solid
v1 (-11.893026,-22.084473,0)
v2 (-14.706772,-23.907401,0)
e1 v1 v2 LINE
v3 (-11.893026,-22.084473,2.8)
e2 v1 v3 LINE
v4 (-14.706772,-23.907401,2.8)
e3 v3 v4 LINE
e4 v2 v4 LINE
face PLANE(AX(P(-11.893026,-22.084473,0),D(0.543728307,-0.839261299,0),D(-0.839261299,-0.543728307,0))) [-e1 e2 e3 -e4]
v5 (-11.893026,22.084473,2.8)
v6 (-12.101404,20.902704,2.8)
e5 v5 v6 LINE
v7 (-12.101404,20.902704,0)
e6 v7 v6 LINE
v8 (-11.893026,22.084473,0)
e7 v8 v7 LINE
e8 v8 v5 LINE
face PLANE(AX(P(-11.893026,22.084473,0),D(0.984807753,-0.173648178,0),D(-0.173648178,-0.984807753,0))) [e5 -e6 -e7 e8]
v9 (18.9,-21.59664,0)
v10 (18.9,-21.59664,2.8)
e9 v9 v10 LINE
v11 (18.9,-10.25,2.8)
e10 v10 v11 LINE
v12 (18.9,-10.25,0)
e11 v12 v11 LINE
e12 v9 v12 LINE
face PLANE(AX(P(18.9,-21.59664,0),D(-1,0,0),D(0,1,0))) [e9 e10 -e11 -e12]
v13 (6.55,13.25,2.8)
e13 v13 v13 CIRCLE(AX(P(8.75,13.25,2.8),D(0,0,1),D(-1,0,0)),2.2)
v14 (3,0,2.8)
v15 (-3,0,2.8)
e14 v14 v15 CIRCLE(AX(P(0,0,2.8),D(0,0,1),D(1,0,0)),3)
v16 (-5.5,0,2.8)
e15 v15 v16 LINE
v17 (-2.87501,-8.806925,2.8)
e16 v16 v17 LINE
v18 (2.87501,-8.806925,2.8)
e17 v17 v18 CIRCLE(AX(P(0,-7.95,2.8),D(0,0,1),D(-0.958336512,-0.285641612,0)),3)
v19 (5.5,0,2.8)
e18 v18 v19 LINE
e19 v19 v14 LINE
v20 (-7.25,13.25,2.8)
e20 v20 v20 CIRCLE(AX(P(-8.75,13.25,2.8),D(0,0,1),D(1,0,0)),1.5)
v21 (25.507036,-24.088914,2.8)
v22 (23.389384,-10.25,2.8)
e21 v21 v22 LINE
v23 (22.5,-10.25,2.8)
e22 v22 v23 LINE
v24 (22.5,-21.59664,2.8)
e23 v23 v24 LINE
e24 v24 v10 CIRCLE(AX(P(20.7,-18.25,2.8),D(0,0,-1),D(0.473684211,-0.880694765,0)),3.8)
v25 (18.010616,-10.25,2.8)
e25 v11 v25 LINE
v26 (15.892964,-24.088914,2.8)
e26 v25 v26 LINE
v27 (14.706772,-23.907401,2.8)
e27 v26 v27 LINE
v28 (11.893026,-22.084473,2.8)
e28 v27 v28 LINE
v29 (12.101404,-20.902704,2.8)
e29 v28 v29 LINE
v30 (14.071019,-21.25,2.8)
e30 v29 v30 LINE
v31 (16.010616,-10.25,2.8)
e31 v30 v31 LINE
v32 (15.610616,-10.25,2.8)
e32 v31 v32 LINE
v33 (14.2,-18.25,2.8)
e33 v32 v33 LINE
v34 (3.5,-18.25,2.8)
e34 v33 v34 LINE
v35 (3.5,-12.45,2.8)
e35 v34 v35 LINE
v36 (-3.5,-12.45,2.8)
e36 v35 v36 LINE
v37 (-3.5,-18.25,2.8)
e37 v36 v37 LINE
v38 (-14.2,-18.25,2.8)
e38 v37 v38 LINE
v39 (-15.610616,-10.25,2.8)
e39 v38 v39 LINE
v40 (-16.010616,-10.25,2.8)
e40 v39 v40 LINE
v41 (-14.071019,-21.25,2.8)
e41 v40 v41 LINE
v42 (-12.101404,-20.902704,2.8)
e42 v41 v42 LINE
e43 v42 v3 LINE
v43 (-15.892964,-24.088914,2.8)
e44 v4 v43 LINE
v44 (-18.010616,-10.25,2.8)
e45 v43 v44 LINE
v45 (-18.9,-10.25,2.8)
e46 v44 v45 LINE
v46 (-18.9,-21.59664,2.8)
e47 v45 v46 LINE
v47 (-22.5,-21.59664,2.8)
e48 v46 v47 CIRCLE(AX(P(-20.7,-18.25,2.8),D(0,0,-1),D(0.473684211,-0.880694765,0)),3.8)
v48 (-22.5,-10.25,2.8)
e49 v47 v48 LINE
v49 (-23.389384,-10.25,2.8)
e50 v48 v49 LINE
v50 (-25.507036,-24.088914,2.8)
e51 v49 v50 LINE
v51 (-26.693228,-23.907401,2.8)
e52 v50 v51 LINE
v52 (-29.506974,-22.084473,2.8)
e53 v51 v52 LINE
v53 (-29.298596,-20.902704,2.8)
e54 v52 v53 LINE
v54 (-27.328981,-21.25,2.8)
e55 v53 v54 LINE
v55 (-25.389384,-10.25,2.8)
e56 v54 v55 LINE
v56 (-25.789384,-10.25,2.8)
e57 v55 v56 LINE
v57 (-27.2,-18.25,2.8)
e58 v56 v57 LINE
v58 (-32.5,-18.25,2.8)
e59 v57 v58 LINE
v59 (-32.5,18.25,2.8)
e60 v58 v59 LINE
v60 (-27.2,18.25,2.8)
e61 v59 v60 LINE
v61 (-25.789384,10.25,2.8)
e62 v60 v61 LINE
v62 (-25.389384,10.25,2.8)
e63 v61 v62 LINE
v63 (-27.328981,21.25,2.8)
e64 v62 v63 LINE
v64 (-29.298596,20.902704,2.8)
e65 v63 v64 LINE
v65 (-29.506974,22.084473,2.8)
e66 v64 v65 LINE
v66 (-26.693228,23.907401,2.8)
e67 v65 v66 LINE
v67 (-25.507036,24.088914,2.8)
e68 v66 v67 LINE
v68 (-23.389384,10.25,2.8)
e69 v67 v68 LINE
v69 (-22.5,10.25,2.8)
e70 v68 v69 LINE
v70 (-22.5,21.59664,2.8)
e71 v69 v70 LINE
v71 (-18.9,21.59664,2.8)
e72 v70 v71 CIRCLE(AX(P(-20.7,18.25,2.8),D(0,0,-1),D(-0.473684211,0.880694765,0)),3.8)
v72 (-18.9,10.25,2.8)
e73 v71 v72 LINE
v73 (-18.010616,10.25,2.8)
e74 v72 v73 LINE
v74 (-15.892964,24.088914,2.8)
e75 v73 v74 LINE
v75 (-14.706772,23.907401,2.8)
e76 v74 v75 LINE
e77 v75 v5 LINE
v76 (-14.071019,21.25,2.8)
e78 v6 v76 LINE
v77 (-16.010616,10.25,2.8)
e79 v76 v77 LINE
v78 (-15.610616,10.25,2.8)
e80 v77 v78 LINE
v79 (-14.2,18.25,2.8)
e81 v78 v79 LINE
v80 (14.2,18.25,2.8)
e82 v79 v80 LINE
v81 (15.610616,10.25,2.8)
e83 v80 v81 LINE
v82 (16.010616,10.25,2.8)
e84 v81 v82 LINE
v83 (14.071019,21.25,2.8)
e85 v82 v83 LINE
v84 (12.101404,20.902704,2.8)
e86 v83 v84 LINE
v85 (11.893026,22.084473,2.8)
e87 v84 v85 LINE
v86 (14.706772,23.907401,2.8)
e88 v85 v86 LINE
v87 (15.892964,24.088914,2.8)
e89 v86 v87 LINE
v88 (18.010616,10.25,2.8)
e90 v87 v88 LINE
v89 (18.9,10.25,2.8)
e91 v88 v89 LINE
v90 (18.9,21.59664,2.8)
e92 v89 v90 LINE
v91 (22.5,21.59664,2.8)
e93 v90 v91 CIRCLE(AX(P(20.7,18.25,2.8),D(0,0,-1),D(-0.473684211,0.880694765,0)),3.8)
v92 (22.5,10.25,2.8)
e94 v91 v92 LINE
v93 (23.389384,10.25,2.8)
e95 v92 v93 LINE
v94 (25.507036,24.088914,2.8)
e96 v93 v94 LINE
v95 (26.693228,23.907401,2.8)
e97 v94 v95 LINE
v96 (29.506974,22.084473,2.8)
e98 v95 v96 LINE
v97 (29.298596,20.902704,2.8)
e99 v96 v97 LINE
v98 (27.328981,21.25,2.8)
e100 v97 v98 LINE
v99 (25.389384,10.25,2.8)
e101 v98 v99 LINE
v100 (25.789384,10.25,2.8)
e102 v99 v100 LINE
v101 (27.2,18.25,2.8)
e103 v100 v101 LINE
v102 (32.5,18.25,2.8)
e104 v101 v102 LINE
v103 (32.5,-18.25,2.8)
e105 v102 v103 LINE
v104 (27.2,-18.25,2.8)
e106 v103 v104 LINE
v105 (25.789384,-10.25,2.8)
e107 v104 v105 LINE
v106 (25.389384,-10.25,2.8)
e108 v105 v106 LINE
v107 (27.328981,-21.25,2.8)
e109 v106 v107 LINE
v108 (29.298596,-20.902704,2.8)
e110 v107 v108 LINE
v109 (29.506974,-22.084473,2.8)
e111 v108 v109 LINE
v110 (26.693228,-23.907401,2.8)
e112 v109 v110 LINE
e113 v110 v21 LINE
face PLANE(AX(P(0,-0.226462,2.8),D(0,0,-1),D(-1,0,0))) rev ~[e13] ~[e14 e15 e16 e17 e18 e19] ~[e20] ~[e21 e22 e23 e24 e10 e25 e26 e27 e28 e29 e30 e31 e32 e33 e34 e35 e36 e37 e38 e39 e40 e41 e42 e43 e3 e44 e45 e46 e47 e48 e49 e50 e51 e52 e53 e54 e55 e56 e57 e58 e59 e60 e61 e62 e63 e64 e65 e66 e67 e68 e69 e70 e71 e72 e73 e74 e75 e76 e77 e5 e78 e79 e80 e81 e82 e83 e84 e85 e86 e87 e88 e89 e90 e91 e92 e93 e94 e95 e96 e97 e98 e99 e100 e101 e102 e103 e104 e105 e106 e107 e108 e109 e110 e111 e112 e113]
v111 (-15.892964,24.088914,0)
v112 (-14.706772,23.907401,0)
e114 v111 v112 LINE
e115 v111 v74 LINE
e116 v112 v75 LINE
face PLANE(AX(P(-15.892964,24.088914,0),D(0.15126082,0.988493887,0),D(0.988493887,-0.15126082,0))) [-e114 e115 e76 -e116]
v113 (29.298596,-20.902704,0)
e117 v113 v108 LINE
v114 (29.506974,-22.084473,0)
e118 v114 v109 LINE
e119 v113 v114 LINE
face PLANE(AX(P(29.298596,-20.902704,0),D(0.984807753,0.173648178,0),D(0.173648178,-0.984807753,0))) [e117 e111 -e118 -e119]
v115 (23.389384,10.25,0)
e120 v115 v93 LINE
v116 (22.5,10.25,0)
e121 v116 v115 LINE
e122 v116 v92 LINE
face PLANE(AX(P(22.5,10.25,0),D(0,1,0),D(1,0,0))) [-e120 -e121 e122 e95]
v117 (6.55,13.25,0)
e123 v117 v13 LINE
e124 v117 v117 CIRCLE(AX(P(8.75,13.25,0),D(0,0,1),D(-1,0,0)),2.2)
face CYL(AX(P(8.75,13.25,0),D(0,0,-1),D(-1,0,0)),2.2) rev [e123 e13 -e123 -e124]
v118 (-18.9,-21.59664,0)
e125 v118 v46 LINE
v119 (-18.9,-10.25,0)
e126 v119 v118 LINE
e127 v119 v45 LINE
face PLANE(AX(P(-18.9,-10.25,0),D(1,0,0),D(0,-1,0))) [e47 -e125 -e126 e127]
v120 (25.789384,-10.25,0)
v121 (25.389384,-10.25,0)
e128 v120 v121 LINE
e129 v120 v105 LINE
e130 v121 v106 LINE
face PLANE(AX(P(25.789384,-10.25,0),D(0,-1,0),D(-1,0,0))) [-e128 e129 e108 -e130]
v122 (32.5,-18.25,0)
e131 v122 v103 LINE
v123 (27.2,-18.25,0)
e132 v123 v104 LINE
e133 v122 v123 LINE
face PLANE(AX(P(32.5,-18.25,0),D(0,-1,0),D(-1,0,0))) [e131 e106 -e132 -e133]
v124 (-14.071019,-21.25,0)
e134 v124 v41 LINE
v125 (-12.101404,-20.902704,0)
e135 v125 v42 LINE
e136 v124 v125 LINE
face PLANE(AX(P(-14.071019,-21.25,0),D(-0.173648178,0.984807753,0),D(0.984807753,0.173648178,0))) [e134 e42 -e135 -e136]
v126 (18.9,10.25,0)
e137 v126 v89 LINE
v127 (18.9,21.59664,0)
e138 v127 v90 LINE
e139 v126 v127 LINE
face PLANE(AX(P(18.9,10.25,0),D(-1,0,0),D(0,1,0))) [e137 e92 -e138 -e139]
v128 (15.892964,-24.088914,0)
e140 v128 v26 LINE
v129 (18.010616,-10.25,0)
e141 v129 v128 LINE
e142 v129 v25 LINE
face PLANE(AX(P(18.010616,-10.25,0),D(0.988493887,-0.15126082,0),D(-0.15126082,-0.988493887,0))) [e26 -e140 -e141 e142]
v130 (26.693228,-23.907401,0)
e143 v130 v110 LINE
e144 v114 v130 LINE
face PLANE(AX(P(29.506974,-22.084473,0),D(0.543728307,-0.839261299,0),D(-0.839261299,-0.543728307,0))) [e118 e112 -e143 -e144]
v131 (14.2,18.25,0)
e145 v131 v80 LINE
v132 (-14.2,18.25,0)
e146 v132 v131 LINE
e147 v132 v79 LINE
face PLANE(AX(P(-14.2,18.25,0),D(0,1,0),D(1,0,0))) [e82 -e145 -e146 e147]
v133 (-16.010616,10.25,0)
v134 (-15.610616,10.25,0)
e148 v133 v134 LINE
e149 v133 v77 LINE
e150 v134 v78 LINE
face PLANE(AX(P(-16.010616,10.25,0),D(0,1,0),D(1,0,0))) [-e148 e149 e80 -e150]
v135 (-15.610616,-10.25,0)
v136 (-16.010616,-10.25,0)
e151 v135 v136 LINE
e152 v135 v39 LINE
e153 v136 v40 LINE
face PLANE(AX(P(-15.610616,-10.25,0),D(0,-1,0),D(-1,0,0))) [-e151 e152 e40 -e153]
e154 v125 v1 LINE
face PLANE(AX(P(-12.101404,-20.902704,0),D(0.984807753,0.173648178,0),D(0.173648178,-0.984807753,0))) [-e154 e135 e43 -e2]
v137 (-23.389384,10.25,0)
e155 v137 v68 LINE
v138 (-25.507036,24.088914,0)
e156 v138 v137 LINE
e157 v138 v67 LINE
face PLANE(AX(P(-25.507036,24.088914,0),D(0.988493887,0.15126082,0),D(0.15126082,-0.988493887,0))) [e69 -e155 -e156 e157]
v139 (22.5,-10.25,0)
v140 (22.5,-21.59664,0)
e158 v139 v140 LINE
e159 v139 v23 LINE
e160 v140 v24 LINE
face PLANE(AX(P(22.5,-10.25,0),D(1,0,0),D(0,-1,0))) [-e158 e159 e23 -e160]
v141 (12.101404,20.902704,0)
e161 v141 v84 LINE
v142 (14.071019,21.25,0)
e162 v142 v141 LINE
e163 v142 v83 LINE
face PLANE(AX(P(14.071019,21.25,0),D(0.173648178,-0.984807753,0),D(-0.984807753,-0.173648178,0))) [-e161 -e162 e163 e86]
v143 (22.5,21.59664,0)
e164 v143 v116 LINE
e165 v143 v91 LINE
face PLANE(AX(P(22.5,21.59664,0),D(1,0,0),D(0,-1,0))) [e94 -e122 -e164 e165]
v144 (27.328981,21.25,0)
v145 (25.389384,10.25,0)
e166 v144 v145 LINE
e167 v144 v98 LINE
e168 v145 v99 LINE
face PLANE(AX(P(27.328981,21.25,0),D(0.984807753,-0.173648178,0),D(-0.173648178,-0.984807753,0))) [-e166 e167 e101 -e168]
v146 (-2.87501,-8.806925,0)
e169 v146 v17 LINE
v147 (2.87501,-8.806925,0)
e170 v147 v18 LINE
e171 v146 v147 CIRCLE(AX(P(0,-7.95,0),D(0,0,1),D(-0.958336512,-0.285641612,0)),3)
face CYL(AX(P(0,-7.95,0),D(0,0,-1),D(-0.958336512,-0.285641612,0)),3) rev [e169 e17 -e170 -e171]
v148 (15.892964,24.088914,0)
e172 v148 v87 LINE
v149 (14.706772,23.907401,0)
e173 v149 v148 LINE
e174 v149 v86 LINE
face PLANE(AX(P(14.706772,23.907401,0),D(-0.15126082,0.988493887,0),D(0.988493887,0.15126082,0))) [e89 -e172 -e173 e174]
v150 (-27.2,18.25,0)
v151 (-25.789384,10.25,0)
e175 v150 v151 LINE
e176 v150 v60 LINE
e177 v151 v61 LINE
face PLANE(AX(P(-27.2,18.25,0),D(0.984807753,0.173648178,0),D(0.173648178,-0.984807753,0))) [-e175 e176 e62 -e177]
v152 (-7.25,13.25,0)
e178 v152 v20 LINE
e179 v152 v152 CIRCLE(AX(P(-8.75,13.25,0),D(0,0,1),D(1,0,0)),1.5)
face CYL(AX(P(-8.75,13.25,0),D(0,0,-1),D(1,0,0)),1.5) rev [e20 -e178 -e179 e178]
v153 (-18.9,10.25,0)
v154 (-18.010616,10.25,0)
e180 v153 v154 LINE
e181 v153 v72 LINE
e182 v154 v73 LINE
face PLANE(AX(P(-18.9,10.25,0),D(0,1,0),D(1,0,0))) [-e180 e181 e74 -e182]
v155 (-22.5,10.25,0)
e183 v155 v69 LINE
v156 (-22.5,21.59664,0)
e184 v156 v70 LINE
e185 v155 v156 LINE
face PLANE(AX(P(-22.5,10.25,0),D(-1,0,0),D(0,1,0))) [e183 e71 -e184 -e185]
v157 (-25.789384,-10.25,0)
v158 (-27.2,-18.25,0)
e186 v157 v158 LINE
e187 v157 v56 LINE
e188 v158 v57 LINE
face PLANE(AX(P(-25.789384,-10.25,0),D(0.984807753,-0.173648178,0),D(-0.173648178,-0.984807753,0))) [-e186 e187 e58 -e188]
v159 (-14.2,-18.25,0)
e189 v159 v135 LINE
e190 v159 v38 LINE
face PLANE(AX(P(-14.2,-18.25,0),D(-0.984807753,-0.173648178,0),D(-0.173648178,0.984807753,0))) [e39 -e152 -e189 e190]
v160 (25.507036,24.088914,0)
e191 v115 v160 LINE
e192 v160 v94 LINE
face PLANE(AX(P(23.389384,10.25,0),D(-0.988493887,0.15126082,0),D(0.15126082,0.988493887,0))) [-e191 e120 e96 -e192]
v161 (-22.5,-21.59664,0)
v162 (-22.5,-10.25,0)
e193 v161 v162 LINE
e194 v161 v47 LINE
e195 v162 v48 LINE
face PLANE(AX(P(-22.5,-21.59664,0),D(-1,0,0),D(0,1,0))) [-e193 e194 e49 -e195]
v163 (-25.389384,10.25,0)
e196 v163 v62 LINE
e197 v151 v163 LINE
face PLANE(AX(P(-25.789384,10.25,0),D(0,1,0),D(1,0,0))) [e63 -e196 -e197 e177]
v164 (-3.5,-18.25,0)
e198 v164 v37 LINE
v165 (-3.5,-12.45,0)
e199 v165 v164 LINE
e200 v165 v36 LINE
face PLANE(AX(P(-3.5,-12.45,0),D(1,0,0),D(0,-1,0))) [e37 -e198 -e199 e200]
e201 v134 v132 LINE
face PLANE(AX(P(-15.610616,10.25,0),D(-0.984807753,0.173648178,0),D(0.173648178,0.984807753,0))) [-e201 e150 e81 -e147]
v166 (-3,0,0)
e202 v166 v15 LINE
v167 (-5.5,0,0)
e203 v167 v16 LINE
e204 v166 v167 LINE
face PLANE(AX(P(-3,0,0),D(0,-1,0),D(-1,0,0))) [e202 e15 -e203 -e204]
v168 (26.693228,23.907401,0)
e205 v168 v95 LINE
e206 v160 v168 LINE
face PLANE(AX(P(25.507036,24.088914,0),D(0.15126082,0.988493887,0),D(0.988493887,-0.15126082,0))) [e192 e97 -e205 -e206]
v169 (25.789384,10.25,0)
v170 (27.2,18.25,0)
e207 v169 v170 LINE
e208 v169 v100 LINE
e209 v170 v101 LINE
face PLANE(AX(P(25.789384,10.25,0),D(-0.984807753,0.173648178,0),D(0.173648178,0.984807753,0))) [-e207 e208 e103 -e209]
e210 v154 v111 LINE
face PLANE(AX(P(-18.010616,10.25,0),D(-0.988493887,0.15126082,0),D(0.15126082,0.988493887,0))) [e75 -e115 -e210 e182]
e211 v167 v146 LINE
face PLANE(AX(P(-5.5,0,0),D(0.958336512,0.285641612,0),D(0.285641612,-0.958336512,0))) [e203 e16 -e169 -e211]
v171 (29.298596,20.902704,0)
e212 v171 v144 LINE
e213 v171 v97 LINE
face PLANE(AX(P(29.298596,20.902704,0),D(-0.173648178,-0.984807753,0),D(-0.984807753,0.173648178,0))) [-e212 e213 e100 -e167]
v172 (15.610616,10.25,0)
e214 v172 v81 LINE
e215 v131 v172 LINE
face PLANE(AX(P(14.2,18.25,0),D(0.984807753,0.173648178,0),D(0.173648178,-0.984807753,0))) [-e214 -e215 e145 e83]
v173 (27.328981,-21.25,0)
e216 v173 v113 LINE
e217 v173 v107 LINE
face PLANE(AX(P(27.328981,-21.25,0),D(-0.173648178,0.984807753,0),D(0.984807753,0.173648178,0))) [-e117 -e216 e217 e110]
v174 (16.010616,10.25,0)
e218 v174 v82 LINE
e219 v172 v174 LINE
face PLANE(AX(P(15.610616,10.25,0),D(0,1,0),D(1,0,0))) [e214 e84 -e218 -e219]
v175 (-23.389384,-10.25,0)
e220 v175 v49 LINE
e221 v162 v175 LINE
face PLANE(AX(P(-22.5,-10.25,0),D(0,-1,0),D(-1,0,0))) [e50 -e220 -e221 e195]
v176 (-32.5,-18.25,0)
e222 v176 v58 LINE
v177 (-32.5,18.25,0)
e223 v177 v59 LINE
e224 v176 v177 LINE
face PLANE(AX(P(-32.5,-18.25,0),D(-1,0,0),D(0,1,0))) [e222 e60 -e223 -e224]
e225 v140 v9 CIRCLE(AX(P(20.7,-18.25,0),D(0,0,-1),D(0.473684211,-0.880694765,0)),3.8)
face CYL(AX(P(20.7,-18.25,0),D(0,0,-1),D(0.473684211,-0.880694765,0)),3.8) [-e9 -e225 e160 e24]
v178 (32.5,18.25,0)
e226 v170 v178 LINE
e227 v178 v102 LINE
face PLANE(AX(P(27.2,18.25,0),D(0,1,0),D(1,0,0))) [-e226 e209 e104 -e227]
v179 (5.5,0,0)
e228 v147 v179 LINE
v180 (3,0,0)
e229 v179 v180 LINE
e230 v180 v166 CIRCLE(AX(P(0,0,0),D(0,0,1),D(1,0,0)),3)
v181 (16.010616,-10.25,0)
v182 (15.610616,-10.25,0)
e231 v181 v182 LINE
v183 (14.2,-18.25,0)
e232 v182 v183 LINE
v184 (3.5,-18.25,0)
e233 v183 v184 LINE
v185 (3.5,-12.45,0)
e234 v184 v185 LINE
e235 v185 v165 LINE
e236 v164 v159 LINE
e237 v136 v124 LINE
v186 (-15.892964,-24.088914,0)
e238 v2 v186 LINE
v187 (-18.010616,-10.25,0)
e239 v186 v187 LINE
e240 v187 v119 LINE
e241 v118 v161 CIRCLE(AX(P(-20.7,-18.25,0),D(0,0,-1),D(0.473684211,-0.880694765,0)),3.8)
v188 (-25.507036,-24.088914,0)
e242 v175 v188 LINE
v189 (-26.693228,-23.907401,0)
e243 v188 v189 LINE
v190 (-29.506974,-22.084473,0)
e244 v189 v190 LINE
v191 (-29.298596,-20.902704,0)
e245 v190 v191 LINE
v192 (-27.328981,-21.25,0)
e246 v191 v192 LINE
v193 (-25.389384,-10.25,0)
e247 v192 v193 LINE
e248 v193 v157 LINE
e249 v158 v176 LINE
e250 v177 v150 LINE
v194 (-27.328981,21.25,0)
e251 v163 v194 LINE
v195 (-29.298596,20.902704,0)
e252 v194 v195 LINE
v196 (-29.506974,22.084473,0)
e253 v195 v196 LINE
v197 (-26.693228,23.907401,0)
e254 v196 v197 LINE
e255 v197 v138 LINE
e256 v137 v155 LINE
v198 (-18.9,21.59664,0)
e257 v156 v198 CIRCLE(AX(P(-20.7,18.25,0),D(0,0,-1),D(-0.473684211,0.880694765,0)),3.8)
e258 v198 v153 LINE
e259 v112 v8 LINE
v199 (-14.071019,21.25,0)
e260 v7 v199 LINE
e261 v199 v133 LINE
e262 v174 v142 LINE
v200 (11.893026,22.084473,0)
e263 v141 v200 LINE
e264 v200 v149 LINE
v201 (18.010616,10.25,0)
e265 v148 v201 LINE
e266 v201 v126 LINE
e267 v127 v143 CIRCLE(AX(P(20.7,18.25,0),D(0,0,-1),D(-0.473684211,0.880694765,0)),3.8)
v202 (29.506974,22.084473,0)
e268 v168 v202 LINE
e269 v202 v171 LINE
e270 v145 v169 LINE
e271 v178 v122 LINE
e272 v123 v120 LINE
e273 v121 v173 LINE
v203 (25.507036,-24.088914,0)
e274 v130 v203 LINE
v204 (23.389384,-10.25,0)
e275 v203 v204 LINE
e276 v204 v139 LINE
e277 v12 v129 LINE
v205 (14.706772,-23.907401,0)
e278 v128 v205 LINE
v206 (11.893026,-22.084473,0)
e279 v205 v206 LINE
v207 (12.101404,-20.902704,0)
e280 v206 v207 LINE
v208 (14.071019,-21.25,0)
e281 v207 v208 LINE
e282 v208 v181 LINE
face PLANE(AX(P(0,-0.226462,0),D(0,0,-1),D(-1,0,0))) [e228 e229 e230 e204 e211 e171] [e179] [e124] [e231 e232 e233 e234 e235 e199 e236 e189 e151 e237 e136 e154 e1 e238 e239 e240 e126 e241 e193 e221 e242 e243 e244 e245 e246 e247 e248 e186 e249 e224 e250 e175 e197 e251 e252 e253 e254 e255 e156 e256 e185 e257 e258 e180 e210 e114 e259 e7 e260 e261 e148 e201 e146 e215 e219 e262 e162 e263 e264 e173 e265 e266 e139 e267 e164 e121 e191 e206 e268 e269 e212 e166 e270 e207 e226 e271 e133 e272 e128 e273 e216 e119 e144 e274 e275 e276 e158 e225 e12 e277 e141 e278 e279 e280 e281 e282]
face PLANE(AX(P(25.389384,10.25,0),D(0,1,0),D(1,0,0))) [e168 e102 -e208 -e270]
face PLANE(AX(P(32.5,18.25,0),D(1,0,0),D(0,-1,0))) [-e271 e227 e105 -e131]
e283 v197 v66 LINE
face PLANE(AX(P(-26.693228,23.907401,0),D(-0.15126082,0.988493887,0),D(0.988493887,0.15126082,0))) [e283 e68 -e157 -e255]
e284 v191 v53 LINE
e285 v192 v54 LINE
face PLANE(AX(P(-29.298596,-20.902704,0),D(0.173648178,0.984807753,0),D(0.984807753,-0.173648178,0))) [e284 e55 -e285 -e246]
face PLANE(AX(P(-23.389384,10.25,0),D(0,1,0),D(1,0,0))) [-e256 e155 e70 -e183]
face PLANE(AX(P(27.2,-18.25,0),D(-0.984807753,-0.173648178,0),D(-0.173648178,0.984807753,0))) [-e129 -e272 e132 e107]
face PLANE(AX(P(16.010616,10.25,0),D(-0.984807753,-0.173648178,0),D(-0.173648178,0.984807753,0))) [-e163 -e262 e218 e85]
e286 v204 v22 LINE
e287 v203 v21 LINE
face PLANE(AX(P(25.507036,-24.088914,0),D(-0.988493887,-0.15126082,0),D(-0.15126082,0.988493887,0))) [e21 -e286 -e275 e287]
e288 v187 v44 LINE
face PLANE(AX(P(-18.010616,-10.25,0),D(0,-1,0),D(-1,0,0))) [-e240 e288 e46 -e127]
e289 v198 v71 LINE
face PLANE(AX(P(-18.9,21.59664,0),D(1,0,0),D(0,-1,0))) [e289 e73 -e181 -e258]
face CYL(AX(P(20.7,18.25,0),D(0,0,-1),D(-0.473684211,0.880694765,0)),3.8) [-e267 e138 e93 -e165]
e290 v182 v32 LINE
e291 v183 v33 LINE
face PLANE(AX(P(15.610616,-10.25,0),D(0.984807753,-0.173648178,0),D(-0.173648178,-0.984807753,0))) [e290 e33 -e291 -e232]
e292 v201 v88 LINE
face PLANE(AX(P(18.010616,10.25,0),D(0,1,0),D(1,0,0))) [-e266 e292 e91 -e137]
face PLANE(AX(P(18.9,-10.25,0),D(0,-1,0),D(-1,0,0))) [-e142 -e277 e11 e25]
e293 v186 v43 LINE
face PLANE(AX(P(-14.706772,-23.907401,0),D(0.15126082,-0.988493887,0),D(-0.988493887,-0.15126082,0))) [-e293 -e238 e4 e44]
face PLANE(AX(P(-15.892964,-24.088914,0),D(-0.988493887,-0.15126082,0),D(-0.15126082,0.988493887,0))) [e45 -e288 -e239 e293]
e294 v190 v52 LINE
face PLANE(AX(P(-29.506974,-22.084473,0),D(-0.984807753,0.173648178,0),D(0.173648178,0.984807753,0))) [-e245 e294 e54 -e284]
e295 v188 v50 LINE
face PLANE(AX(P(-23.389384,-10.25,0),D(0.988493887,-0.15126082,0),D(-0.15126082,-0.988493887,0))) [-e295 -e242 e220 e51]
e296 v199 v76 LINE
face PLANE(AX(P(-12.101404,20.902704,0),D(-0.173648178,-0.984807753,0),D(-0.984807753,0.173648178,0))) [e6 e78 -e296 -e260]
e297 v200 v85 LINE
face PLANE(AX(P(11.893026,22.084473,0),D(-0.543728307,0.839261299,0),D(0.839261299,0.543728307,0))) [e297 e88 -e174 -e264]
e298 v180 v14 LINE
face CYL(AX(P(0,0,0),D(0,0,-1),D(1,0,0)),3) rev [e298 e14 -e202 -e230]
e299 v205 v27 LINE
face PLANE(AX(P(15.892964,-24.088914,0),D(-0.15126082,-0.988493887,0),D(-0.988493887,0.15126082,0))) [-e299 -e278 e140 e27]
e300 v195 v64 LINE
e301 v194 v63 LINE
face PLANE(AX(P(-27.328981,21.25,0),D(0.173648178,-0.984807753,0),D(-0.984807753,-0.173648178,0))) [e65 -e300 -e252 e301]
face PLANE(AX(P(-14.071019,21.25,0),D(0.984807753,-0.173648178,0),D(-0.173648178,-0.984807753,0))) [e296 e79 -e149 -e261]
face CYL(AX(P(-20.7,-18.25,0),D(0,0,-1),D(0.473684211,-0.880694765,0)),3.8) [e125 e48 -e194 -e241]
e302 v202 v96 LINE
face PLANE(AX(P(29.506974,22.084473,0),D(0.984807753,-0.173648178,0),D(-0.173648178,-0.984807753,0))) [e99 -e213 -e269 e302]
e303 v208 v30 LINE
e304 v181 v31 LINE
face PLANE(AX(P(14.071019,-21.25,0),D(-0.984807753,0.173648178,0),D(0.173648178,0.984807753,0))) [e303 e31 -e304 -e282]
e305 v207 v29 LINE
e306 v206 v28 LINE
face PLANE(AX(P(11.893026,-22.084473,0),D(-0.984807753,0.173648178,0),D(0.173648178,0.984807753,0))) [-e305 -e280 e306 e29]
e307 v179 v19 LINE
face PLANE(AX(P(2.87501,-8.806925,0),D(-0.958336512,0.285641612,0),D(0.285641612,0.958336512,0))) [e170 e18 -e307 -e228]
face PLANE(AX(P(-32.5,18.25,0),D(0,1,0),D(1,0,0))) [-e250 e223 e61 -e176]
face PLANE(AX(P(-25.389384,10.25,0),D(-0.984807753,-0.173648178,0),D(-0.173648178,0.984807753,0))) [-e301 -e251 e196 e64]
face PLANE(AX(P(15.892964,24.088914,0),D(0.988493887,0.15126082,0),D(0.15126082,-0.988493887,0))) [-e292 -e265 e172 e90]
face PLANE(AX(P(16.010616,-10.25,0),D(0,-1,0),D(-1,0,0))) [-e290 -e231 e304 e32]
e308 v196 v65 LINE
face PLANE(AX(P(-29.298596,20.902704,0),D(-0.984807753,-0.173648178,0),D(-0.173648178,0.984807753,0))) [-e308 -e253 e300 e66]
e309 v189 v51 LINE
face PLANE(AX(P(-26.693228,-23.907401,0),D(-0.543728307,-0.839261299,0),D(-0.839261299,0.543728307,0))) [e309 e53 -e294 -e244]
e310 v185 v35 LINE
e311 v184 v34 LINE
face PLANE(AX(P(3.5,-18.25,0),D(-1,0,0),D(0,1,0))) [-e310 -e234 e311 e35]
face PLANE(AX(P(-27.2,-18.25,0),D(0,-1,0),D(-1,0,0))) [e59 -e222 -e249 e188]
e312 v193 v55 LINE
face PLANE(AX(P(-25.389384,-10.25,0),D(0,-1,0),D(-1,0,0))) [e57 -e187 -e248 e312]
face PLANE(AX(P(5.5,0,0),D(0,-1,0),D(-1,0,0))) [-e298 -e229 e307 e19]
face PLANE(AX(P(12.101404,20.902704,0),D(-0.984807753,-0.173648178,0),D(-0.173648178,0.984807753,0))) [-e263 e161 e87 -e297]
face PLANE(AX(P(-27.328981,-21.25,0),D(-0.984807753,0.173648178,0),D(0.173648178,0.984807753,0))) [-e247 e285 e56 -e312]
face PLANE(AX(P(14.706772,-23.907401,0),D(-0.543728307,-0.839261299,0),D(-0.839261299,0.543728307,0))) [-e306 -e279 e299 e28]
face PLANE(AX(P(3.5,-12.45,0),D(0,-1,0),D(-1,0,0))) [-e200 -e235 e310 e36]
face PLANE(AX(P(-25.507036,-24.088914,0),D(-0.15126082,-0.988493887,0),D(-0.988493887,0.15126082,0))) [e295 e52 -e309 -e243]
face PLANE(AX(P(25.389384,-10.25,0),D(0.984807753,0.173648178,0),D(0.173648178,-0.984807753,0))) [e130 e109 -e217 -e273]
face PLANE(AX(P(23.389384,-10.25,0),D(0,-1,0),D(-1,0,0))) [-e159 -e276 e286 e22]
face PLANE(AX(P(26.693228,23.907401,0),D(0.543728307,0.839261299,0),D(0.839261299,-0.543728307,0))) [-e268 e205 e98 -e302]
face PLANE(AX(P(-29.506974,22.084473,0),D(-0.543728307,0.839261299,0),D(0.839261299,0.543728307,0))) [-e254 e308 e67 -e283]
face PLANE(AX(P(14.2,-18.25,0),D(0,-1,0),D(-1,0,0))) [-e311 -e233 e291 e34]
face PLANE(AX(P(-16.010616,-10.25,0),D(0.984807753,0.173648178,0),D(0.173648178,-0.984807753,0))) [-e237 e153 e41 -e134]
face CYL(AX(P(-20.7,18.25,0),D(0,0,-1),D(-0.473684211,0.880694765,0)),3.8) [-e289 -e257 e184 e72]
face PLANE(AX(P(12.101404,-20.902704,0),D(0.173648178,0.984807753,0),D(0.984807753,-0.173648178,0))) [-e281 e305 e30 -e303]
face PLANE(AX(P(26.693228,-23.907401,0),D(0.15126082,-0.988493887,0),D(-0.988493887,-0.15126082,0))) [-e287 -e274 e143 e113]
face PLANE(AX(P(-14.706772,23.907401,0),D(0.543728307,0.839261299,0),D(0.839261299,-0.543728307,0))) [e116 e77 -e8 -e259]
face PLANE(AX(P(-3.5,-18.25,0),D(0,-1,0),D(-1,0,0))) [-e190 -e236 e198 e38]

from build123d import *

# Parameters (mm, degrees)
MODEL_R                 = 1.5
MODEL_R_2               = 2.2
P_IDAT_VYSUNUT_M1_DEPTH = 2.8


with BuildPart() as part:
    # Model → Přidat vysunutím1 (new body)
    with BuildSketch(Plane.XY):
        with BuildLine():
            Line((-14.2, 18.25), (14.2, 18.25))
            Line((14.2, 18.25), (15.610615846, 10.25))
            Line((15.610615846, 10.25), (16.010615846, 10.25))
            Line((16.010615846, 10.25), (14.071019058, 21.25))
            Line((14.071019058, 21.25), (12.101403552, 20.902703645))
            Line((12.101403552, 20.902703645), (11.893025739, 22.084472948))
            Line((11.893025739, 22.084472948), (14.706771698, 23.907401431))
            Line((14.706771698, 23.907401431), (15.892964362, 24.088914415))
            Line((15.892964362, 24.088914415), (18.010615846, 10.25))
            Line((18.010615846, 10.25), (18.9, 10.25))
            Line((18.9, 10.25), (18.9, 21.596640106))
            ThreePointArc((18.9, 21.596640106), (20.7, 22.05), (22.5, 21.596640106))
            Line((22.5, 21.596640106), (22.5, 10.25))
            Line((22.5, 10.25), (23.389384154, 10.25))
            Line((23.389384154, 10.25), (25.507035638, 24.088914415))
            Line((25.507035638, 24.088914415), (26.693228302, 23.907401431))
            Line((26.693228302, 23.907401431), (29.506974261, 22.084472948))
            Line((29.506974261, 22.084472948), (29.298596448, 20.902703645))
            Line((29.298596448, 20.902703645), (27.328980942, 21.25))
            Line((27.328980942, 21.25), (25.389384154, 10.25))
            Line((25.389384154, 10.25), (25.789384154, 10.25))
            Line((25.789384154, 10.25), (27.2, 18.25))
            Line((27.2, 18.25), (32.5, 18.25))
            Line((32.5, 18.25), (32.5, -18.25))
            Line((32.5, -18.25), (27.2, -18.25))
            Line((27.2, -18.25), (25.789384154, -10.25))
            Line((25.789384154, -10.25), (25.389384154, -10.25))
            Line((25.389384154, -10.25), (27.328980942, -21.25))
            Line((27.328980942, -21.25), (29.298596448, -20.902703645))
            Line((29.298596448, -20.902703645), (29.506974261, -22.084472948))
            Line((29.506974261, -22.084472948), (26.693228302, -23.907401431))
            Line((26.693228302, -23.907401431), (25.507035638, -24.088914415))
            Line((25.507035638, -24.088914415), (23.389384154, -10.25))
            Line((23.389384154, -10.25), (22.5, -10.25))
            Line((22.5, -10.25), (22.5, -21.596640106))
            ThreePointArc((22.5, -21.596640106), (20.7, -22.05), (18.9, -21.596640106))
            Line((18.9, -21.596640106), (18.9, -10.25))
            Line((18.9, -10.25), (18.010615846, -10.25))
            Line((18.010615846, -10.25), (15.892964362, -24.088914415))
            Line((15.892964362, -24.088914415), (14.706771698, -23.907401431))
            Line((14.706771698, -23.907401431), (11.893025739, -22.084472948))
            Line((11.893025739, -22.084472948), (12.101403552, -20.902703645))
            Line((12.101403552, -20.902703645), (14.071019058, -21.25))
            Line((14.071019058, -21.25), (16.010615846, -10.25))
            Line((16.010615846, -10.25), (15.610615846, -10.25))
            Line((15.610615846, -10.25), (14.2, -18.25))
            Line((14.2, -18.25), (3.5, -18.25))
            Line((3.5, -18.25), (3.5, -12.45))
            Line((3.5, -12.45), (-3.5, -12.45))
            Line((-3.5, -12.45), (-3.5, -18.25))
            Line((-3.5, -18.25), (-14.2, -18.25))
            Line((-14.2, -18.25), (-15.610615846, -10.25))
            Line((-15.610615846, -10.25), (-16.010615846, -10.25))
            Line((-16.010615846, -10.25), (-14.071019058, -21.25))
            Line((-14.071019058, -21.25), (-12.101403552, -20.902703645))
            Line((-12.101403552, -20.902703645), (-11.893025739, -22.084472948))
            Line((-11.893025739, -22.084472948), (-14.706771698, -23.907401431))
            Line((-14.706771698, -23.907401431), (-15.892964362, -24.088914415))
            Line((-15.892964362, -24.088914415), (-18.010615846, -10.25))
            Line((-18.010615846, -10.25), (-18.9, -10.25))
            Line((-18.9, -10.25), (-18.9, -21.596640106))
            ThreePointArc((-18.9, -21.596640106), (-20.7, -22.05), (-22.5, -21.596640106))
            Line((-22.5, -21.596640106), (-22.5, -10.25))
            Line((-22.5, -10.25), (-23.389384154, -10.25))
            Line((-23.389384154, -10.25), (-25.507035638, -24.088914415))
            Line((-25.507035638, -24.088914415), (-26.693228302, -23.907401431))
            Line((-26.693228302, -23.907401431), (-29.506974261, -22.084472948))
            Line((-29.506974261, -22.084472948), (-29.298596448, -20.902703645))
            Line((-29.298596448, -20.902703645), (-27.328980942, -21.25))
            Line((-27.328980942, -21.25), (-25.389384154, -10.25))
            Line((-25.389384154, -10.25), (-25.789384154, -10.25))
            Line((-25.789384154, -10.25), (-27.2, -18.25))
            Line((-27.2, -18.25), (-32.5, -18.25))
            Line((-32.5, -18.25), (-32.5, 18.25))
            Line((-32.5, 18.25), (-27.2, 18.25))
            Line((-27.2, 18.25), (-25.789384154, 10.25))
            Line((-25.789384154, 10.25), (-25.389384154, 10.25))
            Line((-25.389384154, 10.25), (-27.328980942, 21.25))
            Line((-27.328980942, 21.25), (-29.298596448, 20.902703645))
            Line((-29.298596448, 20.902703645), (-29.506974261, 22.084472948))
            Line((-29.506974261, 22.084472948), (-26.693228302, 23.907401431))
            Line((-26.693228302, 23.907401431), (-25.507035638, 24.088914415))
            Line((-25.507035638, 24.088914415), (-23.389384154, 10.25))
            Line((-23.389384154, 10.25), (-22.5, 10.25))
            Line((-22.5, 10.25), (-22.5, 21.596640106))
            ThreePointArc((-22.5, 21.596640106), (-20.7, 22.05), (-18.9, 21.596640106))
            Line((-18.9, 21.596640106), (-18.9, 10.25))
            Line((-18.9, 10.25), (-18.010615846, 10.25))
            Line((-18.010615846, 10.25), (-15.892964362, 24.088914415))
            Line((-15.892964362, 24.088914415), (-14.706771698, 23.907401431))
            Line((-14.706771698, 23.907401431), (-11.893025739, 22.084472948))
            Line((-11.893025739, 22.084472948), (-12.101403552, 20.902703645))
            Line((-12.101403552, 20.902703645), (-14.071019058, 21.25))
            Line((-14.071019058, 21.25), (-16.010615846, 10.25))
            Line((-16.010615846, 10.25), (-15.610615846, 10.25))
            Line((-15.610615846, 10.25), (-14.2, 18.25))
        make_face()
        with Locations((-8.75, 13.25)):
            Circle(MODEL_R, mode=Mode.SUBTRACT)
        with Locations(Location((8.75, 13.25, 0), (0, 0, 180))):
            Circle(MODEL_R_2, mode=Mode.SUBTRACT)
        with BuildLine():
            Line((2.875009535, -8.806924836), (5.5, 0))
            Line((5.5, 0), (3, 0))
            ThreePointArc((3, 0), (0, 3), (-3, 0))
            Line((-3, 0), (-5.5, 0))
            Line((-5.5, 0), (-2.875009535, -8.806924836))
            ThreePointArc((-2.875009535, -8.806924836), (0, -10.95), (2.875009535, -8.806924836))
        make_face(mode=Mode.SUBTRACT)
    extrude(amount=P_IDAT_VYSUNUT_M1_DEPTH)


solid = part.part
